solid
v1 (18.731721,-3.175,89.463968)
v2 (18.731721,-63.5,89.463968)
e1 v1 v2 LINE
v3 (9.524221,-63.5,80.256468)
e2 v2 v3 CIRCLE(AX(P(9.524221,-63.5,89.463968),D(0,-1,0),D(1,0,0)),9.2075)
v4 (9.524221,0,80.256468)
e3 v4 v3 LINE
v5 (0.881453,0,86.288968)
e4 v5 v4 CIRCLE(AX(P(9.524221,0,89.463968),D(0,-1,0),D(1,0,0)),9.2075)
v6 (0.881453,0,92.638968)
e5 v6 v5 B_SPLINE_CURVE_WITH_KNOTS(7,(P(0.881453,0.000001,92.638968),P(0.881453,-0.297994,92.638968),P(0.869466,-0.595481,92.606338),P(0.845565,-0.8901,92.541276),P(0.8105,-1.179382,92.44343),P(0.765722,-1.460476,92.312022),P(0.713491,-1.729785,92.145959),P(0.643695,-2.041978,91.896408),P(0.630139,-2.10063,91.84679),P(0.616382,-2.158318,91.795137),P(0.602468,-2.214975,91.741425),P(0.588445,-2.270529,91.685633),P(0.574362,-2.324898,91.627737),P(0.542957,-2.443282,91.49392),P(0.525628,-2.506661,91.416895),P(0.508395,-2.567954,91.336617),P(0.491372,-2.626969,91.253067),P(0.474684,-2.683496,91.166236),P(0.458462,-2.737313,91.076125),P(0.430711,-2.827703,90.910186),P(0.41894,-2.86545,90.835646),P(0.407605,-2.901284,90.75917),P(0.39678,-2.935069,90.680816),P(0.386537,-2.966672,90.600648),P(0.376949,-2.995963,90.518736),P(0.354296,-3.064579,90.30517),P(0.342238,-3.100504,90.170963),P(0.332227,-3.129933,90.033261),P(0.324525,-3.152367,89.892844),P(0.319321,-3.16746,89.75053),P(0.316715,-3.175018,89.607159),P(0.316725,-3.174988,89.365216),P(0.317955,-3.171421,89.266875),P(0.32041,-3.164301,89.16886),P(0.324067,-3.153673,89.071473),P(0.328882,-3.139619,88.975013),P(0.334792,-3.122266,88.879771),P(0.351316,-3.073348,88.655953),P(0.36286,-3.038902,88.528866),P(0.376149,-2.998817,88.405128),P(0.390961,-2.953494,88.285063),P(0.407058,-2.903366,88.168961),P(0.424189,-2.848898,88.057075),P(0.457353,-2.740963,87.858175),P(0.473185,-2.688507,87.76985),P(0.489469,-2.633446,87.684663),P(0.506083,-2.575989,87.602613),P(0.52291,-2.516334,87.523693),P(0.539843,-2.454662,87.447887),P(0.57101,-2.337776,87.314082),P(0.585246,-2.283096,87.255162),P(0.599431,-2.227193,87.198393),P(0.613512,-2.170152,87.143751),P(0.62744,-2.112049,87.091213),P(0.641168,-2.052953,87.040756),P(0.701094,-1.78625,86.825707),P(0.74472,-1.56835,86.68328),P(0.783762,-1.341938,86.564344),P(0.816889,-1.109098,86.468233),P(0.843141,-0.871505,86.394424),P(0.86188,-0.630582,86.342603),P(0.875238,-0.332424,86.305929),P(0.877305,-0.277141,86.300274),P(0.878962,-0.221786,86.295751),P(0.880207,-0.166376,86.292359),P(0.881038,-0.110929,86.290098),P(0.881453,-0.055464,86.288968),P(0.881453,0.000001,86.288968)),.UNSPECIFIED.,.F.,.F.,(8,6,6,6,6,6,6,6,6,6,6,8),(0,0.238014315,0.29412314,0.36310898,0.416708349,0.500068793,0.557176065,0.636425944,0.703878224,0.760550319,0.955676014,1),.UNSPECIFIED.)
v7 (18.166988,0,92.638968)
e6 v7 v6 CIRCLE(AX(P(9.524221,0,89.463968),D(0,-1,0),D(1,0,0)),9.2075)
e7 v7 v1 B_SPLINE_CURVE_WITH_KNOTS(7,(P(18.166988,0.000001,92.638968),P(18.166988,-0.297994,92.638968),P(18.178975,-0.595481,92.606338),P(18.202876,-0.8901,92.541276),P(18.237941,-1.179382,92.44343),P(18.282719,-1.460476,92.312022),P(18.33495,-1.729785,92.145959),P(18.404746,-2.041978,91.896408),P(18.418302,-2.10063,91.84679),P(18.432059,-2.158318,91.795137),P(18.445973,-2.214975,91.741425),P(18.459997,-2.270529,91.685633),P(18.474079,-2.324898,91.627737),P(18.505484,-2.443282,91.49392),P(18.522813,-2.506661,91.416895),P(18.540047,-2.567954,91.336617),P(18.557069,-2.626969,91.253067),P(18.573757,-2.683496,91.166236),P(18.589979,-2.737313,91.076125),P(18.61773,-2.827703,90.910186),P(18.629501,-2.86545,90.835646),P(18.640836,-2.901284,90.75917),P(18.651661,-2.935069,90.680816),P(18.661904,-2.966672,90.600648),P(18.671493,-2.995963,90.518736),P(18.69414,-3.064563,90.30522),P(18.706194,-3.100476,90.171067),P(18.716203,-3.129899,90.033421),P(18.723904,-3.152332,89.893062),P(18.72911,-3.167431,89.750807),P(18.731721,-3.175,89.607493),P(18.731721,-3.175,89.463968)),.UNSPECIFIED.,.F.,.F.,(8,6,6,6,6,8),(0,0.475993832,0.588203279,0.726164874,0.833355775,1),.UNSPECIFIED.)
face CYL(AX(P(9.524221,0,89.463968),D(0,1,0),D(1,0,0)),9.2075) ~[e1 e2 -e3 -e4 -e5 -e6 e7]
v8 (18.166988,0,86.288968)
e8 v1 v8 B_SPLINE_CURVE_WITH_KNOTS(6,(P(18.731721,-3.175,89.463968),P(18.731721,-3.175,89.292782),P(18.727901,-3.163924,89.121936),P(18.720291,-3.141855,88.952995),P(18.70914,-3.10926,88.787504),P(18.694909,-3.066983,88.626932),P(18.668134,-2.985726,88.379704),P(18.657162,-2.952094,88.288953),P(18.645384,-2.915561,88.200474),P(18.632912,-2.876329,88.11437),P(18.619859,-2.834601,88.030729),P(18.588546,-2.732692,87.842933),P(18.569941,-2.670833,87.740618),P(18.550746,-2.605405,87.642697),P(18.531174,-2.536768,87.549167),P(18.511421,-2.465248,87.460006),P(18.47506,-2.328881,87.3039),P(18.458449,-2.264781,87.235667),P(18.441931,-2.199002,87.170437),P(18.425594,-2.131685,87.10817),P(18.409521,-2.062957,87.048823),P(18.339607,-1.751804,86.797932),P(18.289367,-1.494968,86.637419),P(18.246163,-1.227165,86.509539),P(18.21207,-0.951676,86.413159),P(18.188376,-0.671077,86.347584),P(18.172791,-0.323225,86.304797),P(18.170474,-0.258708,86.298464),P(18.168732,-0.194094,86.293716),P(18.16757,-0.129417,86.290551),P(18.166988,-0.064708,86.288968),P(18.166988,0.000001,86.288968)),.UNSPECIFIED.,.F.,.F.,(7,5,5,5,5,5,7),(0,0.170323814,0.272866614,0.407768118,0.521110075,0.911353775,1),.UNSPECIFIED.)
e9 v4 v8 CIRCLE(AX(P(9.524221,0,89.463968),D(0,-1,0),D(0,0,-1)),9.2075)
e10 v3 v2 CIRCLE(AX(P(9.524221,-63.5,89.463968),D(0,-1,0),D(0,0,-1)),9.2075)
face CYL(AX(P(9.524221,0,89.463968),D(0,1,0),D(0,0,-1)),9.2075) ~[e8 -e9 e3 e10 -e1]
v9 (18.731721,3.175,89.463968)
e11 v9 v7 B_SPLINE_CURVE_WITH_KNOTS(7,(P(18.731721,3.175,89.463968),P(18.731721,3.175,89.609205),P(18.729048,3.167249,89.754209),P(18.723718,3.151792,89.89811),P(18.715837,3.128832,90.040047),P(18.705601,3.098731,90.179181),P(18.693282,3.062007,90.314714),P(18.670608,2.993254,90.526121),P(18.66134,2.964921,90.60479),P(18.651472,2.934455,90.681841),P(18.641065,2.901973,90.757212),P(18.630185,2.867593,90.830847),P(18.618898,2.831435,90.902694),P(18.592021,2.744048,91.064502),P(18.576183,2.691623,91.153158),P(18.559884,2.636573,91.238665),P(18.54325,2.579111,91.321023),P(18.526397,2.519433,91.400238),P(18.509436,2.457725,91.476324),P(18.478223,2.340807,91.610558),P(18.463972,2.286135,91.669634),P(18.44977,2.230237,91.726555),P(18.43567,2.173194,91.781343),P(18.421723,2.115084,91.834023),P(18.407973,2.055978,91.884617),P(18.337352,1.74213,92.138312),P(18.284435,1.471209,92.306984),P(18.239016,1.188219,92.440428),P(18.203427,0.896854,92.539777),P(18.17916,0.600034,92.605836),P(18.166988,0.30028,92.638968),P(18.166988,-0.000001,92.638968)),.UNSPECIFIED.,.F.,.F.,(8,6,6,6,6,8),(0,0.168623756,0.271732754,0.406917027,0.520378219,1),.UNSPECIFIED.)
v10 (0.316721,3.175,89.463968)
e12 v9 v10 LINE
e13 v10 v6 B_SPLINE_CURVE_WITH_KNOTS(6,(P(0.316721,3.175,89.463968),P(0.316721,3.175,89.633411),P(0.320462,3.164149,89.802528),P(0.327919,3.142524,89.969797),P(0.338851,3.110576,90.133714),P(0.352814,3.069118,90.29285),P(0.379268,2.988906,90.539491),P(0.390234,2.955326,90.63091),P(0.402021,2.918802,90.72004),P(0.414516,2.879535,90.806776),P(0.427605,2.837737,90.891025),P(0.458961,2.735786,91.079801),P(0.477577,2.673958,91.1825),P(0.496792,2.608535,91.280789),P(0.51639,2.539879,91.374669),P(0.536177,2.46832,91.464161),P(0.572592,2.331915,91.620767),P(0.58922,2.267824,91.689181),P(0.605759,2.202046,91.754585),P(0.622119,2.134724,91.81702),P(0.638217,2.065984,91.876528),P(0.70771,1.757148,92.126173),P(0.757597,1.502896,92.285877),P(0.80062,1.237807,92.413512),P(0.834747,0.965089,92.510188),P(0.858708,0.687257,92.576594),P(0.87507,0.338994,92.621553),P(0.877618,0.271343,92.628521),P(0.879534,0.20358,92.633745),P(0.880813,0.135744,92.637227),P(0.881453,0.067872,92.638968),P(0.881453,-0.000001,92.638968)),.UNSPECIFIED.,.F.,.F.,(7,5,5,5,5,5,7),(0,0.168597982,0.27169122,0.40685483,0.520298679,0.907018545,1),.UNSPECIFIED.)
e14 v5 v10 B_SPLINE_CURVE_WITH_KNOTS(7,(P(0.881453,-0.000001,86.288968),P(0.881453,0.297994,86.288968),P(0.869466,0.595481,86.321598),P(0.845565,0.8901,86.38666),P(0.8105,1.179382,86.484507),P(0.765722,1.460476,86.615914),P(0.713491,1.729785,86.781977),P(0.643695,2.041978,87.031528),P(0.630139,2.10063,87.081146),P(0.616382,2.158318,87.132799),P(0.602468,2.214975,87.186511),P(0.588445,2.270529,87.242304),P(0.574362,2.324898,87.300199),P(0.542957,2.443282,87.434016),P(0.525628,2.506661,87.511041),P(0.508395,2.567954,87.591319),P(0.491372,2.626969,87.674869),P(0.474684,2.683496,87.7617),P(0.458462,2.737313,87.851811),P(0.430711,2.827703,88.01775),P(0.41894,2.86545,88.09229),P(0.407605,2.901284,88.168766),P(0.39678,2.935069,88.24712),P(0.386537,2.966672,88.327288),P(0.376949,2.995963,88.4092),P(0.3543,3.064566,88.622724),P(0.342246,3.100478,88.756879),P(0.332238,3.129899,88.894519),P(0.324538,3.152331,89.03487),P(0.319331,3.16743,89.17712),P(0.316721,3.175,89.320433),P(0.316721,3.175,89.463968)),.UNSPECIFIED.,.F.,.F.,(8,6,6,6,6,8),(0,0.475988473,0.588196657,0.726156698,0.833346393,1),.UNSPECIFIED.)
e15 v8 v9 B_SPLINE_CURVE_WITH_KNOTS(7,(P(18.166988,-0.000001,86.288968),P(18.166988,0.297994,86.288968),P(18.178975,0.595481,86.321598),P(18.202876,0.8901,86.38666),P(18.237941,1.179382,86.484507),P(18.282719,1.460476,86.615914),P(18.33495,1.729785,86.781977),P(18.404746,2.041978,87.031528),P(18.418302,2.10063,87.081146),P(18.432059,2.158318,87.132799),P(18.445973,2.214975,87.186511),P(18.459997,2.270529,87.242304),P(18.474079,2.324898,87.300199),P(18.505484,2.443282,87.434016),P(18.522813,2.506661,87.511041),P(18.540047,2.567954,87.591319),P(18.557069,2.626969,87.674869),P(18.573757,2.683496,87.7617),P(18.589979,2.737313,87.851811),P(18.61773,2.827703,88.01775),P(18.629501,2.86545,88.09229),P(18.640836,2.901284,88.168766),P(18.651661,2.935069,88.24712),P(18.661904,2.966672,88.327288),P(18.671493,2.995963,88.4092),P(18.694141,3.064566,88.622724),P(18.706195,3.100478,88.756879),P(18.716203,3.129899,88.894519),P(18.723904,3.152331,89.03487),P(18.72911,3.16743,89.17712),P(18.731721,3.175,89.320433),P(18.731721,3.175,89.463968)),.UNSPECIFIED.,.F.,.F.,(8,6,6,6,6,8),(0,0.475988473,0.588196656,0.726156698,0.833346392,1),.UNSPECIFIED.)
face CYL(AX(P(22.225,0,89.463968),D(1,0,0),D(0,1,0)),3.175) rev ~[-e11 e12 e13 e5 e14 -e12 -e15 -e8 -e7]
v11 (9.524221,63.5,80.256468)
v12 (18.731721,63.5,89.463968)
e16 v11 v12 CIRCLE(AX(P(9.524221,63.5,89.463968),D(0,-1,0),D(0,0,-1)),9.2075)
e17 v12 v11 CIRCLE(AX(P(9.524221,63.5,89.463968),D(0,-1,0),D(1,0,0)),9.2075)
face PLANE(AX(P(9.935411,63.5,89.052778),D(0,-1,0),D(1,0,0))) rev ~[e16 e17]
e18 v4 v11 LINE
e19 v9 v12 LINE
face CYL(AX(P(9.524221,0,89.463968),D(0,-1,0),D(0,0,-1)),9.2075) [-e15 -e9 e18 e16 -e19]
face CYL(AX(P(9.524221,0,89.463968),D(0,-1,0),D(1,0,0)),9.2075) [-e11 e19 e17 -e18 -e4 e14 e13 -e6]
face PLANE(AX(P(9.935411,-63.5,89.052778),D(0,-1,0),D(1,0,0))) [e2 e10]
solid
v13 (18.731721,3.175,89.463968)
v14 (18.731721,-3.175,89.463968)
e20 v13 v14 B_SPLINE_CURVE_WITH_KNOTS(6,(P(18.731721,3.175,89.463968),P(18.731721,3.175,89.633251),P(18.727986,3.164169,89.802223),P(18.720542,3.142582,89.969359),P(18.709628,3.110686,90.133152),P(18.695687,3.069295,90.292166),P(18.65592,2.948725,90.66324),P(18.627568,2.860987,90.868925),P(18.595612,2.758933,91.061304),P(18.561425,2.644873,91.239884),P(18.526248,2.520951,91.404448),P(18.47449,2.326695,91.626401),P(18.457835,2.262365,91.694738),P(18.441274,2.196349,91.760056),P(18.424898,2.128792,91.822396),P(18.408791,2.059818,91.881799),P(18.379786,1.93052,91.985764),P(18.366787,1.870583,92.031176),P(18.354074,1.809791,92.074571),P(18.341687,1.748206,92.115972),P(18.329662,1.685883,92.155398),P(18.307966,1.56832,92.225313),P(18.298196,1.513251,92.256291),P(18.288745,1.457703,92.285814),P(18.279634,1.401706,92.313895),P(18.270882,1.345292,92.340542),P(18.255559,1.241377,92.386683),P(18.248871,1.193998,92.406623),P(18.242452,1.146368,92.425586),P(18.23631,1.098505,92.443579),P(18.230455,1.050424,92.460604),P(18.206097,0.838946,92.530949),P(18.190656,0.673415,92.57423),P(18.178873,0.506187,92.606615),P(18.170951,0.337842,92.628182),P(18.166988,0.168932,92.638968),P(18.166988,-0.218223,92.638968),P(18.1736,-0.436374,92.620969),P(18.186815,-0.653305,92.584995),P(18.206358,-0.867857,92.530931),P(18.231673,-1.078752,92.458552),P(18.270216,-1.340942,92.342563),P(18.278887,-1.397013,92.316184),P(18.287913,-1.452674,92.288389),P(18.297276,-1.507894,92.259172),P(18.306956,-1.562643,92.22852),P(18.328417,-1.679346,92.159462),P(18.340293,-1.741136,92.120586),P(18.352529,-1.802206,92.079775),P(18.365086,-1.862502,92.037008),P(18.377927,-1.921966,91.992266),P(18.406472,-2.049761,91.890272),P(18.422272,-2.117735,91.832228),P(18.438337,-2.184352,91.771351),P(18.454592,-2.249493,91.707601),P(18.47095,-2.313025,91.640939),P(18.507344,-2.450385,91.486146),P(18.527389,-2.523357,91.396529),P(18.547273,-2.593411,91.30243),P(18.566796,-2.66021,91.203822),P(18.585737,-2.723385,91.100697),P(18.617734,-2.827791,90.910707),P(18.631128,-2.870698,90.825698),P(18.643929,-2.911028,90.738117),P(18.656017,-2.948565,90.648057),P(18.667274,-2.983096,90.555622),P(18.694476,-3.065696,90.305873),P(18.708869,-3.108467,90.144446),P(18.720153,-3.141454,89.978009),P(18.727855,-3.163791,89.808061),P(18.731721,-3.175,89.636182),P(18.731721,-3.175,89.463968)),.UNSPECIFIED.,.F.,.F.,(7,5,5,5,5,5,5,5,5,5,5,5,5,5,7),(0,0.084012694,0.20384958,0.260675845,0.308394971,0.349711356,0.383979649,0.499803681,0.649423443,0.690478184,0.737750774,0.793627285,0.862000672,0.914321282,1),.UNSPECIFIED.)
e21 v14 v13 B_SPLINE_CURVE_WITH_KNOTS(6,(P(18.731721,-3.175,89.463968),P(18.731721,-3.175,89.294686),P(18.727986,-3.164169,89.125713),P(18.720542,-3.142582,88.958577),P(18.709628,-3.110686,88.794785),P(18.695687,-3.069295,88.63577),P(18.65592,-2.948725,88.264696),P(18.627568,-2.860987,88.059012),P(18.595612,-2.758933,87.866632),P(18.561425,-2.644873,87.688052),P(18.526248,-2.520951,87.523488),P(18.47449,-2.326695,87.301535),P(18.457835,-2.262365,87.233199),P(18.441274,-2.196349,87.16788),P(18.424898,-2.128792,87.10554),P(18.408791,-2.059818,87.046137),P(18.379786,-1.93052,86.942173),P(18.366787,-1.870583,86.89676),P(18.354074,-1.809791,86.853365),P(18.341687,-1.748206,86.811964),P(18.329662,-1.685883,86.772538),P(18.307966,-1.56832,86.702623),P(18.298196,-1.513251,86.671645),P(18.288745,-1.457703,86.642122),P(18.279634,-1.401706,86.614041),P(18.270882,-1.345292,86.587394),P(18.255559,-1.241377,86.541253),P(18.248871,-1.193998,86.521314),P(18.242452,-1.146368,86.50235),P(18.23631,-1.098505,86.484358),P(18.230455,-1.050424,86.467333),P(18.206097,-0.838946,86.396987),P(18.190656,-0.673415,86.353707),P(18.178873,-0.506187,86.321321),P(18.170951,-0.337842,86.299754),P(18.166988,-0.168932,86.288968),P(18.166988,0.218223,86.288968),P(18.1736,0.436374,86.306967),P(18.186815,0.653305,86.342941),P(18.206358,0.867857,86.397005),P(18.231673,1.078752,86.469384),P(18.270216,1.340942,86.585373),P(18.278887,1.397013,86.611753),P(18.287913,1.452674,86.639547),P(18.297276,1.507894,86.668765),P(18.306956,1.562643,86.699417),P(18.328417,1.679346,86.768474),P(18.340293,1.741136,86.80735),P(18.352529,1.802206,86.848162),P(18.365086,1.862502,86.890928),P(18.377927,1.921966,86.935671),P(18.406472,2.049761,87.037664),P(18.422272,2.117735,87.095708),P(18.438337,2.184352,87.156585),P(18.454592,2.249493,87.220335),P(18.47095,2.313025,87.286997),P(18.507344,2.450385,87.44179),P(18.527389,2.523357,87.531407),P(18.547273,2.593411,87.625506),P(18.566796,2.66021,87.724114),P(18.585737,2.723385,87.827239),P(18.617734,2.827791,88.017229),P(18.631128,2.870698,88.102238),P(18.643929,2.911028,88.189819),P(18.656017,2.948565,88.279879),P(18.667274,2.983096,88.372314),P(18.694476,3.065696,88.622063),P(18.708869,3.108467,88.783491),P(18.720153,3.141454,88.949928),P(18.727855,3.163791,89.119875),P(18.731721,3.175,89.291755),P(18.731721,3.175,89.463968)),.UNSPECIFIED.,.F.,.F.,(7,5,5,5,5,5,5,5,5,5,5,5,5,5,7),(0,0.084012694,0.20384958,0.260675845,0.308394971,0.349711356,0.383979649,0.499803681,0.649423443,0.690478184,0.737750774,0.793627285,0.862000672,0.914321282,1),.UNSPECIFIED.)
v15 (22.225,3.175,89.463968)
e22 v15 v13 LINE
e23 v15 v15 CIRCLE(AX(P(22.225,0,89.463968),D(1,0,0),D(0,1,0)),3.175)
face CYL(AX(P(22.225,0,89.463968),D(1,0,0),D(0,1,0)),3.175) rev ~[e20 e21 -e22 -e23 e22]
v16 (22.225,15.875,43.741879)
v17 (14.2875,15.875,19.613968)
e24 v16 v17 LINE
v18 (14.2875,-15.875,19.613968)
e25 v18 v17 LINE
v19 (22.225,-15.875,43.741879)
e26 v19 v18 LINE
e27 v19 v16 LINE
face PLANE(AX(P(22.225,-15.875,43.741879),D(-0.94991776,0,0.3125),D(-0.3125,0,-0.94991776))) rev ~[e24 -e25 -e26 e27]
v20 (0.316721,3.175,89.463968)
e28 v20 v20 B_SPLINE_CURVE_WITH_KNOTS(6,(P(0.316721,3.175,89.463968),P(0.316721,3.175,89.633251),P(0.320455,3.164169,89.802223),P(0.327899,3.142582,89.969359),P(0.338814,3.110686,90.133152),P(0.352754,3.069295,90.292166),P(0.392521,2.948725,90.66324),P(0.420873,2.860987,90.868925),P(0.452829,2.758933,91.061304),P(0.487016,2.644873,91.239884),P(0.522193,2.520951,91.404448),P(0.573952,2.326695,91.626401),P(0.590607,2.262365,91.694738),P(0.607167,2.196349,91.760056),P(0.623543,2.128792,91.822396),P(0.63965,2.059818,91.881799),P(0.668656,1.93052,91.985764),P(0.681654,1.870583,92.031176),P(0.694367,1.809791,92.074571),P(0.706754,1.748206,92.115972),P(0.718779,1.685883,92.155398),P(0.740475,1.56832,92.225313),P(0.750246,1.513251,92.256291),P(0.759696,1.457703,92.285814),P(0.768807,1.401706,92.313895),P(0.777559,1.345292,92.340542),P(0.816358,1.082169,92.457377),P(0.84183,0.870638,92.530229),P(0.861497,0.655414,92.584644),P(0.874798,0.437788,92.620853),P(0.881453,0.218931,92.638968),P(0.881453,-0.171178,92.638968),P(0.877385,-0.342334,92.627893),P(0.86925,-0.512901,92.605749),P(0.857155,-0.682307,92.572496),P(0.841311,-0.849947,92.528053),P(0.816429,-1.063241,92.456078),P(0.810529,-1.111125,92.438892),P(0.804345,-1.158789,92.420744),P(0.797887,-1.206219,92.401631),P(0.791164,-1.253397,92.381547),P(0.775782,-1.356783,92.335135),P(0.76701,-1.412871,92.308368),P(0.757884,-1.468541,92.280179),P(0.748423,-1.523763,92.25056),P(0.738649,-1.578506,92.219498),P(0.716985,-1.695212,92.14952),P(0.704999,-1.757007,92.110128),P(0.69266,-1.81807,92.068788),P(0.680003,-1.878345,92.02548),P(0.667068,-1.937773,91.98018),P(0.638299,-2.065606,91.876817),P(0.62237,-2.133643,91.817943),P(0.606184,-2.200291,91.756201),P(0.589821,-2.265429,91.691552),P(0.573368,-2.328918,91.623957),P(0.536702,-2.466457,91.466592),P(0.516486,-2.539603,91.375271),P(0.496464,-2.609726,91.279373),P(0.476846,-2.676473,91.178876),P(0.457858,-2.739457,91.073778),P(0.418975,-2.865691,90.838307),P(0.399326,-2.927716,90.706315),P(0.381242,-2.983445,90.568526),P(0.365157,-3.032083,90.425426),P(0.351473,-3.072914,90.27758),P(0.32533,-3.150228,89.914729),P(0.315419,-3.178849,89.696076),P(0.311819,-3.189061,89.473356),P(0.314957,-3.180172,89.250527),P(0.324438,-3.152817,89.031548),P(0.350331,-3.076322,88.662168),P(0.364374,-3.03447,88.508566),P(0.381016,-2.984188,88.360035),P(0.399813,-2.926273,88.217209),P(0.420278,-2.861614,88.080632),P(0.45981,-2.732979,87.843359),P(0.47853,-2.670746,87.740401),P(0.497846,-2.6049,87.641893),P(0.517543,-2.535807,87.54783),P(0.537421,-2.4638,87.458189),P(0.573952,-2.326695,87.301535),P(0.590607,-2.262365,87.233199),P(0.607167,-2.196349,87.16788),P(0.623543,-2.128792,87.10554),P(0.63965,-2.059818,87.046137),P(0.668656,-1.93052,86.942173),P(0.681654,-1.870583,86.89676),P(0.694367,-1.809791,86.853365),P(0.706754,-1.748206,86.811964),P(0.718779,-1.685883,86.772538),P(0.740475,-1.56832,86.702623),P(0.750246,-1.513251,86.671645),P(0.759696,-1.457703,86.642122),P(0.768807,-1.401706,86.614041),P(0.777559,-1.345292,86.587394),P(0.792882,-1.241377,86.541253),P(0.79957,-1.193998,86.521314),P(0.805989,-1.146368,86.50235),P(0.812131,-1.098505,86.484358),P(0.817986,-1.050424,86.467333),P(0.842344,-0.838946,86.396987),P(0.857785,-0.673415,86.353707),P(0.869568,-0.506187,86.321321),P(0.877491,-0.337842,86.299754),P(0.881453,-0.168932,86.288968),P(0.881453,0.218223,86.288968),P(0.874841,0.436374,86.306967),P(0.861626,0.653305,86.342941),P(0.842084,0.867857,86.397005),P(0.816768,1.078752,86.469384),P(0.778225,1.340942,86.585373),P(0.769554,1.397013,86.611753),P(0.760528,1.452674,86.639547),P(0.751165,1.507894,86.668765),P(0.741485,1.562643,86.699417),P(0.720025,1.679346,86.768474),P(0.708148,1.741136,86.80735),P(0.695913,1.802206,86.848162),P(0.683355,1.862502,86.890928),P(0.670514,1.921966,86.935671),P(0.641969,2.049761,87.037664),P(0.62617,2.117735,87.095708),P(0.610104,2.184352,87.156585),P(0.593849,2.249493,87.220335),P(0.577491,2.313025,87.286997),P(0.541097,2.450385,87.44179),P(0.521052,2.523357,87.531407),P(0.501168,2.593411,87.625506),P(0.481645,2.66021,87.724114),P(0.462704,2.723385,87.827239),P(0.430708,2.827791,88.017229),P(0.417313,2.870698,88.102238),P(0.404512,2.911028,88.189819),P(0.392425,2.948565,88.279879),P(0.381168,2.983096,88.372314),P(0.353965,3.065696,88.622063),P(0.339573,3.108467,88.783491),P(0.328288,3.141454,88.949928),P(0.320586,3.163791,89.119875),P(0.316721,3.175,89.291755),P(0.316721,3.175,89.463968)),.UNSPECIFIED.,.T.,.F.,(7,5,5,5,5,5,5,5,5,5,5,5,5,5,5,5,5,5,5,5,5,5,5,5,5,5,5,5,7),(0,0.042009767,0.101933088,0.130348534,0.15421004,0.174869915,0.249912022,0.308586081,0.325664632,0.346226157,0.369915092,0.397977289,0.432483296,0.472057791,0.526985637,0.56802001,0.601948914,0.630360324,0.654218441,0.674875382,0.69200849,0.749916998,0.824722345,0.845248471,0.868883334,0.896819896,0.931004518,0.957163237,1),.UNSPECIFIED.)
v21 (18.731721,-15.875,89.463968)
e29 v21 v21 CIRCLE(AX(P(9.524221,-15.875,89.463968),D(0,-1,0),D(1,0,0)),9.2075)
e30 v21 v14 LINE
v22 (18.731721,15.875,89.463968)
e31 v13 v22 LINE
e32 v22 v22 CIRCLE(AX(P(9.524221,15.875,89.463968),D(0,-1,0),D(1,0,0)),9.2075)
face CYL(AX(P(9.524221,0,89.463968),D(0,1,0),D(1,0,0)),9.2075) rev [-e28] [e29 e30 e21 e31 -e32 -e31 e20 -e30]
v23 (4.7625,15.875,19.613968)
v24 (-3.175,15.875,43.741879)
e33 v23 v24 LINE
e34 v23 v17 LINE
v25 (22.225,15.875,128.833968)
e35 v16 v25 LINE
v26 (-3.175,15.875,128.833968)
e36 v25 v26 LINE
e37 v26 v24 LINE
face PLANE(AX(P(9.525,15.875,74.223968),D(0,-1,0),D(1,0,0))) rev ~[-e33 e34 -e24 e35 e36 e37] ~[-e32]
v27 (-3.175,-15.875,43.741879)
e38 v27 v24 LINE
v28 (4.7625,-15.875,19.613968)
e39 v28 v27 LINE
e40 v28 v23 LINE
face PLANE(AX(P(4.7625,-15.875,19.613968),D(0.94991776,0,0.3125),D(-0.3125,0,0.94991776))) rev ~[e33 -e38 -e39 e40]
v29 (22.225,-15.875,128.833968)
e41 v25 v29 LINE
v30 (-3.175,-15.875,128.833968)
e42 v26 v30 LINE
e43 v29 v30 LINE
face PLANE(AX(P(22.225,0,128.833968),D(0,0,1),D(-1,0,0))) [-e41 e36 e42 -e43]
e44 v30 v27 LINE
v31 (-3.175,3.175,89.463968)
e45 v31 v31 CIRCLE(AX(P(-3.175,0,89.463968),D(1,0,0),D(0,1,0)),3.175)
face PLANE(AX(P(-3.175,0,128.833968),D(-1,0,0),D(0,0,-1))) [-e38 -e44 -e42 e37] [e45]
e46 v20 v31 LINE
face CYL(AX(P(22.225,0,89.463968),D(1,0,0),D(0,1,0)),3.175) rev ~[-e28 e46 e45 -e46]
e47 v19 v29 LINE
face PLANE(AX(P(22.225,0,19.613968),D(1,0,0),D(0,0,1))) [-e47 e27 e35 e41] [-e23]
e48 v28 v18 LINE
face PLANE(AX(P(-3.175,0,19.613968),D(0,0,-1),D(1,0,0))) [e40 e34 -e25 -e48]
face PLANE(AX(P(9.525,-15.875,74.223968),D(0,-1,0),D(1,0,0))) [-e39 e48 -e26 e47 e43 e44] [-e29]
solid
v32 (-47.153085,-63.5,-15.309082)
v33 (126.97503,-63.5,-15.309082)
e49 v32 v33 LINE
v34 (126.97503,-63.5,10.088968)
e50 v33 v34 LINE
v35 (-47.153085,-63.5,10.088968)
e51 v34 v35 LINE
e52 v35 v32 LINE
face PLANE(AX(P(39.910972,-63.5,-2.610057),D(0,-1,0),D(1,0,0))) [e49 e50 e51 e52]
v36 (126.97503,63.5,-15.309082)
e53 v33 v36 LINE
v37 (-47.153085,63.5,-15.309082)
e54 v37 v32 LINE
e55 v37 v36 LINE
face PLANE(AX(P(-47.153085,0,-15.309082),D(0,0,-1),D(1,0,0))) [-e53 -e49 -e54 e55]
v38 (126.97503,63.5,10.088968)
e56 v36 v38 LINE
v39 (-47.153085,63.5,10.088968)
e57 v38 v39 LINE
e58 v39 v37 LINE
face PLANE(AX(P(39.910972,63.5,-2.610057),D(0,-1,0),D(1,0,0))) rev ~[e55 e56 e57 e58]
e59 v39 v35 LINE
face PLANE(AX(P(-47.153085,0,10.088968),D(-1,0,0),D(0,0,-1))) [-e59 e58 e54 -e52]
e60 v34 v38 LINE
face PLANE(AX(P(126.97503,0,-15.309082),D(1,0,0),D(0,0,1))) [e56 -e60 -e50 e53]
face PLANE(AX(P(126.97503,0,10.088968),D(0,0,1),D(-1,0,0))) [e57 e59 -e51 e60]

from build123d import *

# Parameters (mm, degrees)
F1_DEPTH = 63.5
F2_R     = 9.2075
F3_DEPTH = 15.875
F5_DEPTH = 79.376
F6_R     = 3.175
F7_DEPTH = 69.3790854702


with BuildPart() as f1:
    # F0 (on Front) → F1 (new body, symmetric)
    with BuildSketch(Plane.XZ):
        with BuildLine():
            ThreePointArc((9.5242206007, 80.2564680907), (16.0349062885, 82.9532824029), (18.7317206007, 89.4639680907))
            ThreePointArc((18.7317206007, 89.4639680907), (3.0135349129, 95.9746537785), (9.5242206007, 80.2564680907))
        make_face()
    extrude(amount=F1_DEPTH, both=True)


with BuildPart() as f1b:
    # F0 (on Front) → F1, piece 2 (new body, symmetric)
    with BuildSketch(Plane.XZ):
        Polygon((126.975029707, 10.0889680907), (9.5242206007, 10.0889680907), (-47.1530854702, 10.0889680907), (-47.1530854702, -15.3090823442), (126.975029707, -15.3090823442), align=None)
    extrude(amount=F1_DEPTH, both=True)


with BuildPart() as f3:
    # F2 (on Front) → F3 (new body, symmetric)
    with BuildSketch(Plane.XZ):
        Polygon((22.225, 19.6139680907), (22.225, 128.8339680907), (9.525, 128.8339680907), (-3.175, 128.8339680907), (-3.175, 19.6139680907), (9.525, 19.6139680907), align=None)
        with Locations((9.5242206007, 89.4639680907)):
            Circle(F2_R, mode=Mode.SUBTRACT)
    extrude(amount=F3_DEPTH, both=True)

    # F4 (on face) → F5 (cut, through all)
    with BuildSketch(Plane.XZ.offset(15.875)):
        Polygon((-3.175, 19.6139680907), (4.7625, 19.6139680907), (-3.175, 43.7418791845), align=None)
        Polygon((22.225, 43.7418791845), (14.2875, 19.6139680907), (22.225, 19.6139680907), align=None)
    extrude(amount=-F5_DEPTH, mode=Mode.SUBTRACT)


with BuildPart() as f7_tool:
    # F6 (on face) → F7 (new body, through all)
    with BuildSketch(Plane.YZ.offset(22.225)):
        with Locations((0, 89.4639680907)):
            Circle(F6_R)
    extrude(amount=-F7_DEPTH)


with BuildPart() as f1_1:
    add(f1.part)

    # F7: cut by f7_tool
    add(f7_tool.part, mode=Mode.SUBTRACT)


with BuildPart() as f3_1:
    add(f3.part)

    # F7: cut by f7_tool
    add(f7_tool.part, mode=Mode.SUBTRACT)


solid = Compound([f1b.part, f1_1.part, f3_1.part])
